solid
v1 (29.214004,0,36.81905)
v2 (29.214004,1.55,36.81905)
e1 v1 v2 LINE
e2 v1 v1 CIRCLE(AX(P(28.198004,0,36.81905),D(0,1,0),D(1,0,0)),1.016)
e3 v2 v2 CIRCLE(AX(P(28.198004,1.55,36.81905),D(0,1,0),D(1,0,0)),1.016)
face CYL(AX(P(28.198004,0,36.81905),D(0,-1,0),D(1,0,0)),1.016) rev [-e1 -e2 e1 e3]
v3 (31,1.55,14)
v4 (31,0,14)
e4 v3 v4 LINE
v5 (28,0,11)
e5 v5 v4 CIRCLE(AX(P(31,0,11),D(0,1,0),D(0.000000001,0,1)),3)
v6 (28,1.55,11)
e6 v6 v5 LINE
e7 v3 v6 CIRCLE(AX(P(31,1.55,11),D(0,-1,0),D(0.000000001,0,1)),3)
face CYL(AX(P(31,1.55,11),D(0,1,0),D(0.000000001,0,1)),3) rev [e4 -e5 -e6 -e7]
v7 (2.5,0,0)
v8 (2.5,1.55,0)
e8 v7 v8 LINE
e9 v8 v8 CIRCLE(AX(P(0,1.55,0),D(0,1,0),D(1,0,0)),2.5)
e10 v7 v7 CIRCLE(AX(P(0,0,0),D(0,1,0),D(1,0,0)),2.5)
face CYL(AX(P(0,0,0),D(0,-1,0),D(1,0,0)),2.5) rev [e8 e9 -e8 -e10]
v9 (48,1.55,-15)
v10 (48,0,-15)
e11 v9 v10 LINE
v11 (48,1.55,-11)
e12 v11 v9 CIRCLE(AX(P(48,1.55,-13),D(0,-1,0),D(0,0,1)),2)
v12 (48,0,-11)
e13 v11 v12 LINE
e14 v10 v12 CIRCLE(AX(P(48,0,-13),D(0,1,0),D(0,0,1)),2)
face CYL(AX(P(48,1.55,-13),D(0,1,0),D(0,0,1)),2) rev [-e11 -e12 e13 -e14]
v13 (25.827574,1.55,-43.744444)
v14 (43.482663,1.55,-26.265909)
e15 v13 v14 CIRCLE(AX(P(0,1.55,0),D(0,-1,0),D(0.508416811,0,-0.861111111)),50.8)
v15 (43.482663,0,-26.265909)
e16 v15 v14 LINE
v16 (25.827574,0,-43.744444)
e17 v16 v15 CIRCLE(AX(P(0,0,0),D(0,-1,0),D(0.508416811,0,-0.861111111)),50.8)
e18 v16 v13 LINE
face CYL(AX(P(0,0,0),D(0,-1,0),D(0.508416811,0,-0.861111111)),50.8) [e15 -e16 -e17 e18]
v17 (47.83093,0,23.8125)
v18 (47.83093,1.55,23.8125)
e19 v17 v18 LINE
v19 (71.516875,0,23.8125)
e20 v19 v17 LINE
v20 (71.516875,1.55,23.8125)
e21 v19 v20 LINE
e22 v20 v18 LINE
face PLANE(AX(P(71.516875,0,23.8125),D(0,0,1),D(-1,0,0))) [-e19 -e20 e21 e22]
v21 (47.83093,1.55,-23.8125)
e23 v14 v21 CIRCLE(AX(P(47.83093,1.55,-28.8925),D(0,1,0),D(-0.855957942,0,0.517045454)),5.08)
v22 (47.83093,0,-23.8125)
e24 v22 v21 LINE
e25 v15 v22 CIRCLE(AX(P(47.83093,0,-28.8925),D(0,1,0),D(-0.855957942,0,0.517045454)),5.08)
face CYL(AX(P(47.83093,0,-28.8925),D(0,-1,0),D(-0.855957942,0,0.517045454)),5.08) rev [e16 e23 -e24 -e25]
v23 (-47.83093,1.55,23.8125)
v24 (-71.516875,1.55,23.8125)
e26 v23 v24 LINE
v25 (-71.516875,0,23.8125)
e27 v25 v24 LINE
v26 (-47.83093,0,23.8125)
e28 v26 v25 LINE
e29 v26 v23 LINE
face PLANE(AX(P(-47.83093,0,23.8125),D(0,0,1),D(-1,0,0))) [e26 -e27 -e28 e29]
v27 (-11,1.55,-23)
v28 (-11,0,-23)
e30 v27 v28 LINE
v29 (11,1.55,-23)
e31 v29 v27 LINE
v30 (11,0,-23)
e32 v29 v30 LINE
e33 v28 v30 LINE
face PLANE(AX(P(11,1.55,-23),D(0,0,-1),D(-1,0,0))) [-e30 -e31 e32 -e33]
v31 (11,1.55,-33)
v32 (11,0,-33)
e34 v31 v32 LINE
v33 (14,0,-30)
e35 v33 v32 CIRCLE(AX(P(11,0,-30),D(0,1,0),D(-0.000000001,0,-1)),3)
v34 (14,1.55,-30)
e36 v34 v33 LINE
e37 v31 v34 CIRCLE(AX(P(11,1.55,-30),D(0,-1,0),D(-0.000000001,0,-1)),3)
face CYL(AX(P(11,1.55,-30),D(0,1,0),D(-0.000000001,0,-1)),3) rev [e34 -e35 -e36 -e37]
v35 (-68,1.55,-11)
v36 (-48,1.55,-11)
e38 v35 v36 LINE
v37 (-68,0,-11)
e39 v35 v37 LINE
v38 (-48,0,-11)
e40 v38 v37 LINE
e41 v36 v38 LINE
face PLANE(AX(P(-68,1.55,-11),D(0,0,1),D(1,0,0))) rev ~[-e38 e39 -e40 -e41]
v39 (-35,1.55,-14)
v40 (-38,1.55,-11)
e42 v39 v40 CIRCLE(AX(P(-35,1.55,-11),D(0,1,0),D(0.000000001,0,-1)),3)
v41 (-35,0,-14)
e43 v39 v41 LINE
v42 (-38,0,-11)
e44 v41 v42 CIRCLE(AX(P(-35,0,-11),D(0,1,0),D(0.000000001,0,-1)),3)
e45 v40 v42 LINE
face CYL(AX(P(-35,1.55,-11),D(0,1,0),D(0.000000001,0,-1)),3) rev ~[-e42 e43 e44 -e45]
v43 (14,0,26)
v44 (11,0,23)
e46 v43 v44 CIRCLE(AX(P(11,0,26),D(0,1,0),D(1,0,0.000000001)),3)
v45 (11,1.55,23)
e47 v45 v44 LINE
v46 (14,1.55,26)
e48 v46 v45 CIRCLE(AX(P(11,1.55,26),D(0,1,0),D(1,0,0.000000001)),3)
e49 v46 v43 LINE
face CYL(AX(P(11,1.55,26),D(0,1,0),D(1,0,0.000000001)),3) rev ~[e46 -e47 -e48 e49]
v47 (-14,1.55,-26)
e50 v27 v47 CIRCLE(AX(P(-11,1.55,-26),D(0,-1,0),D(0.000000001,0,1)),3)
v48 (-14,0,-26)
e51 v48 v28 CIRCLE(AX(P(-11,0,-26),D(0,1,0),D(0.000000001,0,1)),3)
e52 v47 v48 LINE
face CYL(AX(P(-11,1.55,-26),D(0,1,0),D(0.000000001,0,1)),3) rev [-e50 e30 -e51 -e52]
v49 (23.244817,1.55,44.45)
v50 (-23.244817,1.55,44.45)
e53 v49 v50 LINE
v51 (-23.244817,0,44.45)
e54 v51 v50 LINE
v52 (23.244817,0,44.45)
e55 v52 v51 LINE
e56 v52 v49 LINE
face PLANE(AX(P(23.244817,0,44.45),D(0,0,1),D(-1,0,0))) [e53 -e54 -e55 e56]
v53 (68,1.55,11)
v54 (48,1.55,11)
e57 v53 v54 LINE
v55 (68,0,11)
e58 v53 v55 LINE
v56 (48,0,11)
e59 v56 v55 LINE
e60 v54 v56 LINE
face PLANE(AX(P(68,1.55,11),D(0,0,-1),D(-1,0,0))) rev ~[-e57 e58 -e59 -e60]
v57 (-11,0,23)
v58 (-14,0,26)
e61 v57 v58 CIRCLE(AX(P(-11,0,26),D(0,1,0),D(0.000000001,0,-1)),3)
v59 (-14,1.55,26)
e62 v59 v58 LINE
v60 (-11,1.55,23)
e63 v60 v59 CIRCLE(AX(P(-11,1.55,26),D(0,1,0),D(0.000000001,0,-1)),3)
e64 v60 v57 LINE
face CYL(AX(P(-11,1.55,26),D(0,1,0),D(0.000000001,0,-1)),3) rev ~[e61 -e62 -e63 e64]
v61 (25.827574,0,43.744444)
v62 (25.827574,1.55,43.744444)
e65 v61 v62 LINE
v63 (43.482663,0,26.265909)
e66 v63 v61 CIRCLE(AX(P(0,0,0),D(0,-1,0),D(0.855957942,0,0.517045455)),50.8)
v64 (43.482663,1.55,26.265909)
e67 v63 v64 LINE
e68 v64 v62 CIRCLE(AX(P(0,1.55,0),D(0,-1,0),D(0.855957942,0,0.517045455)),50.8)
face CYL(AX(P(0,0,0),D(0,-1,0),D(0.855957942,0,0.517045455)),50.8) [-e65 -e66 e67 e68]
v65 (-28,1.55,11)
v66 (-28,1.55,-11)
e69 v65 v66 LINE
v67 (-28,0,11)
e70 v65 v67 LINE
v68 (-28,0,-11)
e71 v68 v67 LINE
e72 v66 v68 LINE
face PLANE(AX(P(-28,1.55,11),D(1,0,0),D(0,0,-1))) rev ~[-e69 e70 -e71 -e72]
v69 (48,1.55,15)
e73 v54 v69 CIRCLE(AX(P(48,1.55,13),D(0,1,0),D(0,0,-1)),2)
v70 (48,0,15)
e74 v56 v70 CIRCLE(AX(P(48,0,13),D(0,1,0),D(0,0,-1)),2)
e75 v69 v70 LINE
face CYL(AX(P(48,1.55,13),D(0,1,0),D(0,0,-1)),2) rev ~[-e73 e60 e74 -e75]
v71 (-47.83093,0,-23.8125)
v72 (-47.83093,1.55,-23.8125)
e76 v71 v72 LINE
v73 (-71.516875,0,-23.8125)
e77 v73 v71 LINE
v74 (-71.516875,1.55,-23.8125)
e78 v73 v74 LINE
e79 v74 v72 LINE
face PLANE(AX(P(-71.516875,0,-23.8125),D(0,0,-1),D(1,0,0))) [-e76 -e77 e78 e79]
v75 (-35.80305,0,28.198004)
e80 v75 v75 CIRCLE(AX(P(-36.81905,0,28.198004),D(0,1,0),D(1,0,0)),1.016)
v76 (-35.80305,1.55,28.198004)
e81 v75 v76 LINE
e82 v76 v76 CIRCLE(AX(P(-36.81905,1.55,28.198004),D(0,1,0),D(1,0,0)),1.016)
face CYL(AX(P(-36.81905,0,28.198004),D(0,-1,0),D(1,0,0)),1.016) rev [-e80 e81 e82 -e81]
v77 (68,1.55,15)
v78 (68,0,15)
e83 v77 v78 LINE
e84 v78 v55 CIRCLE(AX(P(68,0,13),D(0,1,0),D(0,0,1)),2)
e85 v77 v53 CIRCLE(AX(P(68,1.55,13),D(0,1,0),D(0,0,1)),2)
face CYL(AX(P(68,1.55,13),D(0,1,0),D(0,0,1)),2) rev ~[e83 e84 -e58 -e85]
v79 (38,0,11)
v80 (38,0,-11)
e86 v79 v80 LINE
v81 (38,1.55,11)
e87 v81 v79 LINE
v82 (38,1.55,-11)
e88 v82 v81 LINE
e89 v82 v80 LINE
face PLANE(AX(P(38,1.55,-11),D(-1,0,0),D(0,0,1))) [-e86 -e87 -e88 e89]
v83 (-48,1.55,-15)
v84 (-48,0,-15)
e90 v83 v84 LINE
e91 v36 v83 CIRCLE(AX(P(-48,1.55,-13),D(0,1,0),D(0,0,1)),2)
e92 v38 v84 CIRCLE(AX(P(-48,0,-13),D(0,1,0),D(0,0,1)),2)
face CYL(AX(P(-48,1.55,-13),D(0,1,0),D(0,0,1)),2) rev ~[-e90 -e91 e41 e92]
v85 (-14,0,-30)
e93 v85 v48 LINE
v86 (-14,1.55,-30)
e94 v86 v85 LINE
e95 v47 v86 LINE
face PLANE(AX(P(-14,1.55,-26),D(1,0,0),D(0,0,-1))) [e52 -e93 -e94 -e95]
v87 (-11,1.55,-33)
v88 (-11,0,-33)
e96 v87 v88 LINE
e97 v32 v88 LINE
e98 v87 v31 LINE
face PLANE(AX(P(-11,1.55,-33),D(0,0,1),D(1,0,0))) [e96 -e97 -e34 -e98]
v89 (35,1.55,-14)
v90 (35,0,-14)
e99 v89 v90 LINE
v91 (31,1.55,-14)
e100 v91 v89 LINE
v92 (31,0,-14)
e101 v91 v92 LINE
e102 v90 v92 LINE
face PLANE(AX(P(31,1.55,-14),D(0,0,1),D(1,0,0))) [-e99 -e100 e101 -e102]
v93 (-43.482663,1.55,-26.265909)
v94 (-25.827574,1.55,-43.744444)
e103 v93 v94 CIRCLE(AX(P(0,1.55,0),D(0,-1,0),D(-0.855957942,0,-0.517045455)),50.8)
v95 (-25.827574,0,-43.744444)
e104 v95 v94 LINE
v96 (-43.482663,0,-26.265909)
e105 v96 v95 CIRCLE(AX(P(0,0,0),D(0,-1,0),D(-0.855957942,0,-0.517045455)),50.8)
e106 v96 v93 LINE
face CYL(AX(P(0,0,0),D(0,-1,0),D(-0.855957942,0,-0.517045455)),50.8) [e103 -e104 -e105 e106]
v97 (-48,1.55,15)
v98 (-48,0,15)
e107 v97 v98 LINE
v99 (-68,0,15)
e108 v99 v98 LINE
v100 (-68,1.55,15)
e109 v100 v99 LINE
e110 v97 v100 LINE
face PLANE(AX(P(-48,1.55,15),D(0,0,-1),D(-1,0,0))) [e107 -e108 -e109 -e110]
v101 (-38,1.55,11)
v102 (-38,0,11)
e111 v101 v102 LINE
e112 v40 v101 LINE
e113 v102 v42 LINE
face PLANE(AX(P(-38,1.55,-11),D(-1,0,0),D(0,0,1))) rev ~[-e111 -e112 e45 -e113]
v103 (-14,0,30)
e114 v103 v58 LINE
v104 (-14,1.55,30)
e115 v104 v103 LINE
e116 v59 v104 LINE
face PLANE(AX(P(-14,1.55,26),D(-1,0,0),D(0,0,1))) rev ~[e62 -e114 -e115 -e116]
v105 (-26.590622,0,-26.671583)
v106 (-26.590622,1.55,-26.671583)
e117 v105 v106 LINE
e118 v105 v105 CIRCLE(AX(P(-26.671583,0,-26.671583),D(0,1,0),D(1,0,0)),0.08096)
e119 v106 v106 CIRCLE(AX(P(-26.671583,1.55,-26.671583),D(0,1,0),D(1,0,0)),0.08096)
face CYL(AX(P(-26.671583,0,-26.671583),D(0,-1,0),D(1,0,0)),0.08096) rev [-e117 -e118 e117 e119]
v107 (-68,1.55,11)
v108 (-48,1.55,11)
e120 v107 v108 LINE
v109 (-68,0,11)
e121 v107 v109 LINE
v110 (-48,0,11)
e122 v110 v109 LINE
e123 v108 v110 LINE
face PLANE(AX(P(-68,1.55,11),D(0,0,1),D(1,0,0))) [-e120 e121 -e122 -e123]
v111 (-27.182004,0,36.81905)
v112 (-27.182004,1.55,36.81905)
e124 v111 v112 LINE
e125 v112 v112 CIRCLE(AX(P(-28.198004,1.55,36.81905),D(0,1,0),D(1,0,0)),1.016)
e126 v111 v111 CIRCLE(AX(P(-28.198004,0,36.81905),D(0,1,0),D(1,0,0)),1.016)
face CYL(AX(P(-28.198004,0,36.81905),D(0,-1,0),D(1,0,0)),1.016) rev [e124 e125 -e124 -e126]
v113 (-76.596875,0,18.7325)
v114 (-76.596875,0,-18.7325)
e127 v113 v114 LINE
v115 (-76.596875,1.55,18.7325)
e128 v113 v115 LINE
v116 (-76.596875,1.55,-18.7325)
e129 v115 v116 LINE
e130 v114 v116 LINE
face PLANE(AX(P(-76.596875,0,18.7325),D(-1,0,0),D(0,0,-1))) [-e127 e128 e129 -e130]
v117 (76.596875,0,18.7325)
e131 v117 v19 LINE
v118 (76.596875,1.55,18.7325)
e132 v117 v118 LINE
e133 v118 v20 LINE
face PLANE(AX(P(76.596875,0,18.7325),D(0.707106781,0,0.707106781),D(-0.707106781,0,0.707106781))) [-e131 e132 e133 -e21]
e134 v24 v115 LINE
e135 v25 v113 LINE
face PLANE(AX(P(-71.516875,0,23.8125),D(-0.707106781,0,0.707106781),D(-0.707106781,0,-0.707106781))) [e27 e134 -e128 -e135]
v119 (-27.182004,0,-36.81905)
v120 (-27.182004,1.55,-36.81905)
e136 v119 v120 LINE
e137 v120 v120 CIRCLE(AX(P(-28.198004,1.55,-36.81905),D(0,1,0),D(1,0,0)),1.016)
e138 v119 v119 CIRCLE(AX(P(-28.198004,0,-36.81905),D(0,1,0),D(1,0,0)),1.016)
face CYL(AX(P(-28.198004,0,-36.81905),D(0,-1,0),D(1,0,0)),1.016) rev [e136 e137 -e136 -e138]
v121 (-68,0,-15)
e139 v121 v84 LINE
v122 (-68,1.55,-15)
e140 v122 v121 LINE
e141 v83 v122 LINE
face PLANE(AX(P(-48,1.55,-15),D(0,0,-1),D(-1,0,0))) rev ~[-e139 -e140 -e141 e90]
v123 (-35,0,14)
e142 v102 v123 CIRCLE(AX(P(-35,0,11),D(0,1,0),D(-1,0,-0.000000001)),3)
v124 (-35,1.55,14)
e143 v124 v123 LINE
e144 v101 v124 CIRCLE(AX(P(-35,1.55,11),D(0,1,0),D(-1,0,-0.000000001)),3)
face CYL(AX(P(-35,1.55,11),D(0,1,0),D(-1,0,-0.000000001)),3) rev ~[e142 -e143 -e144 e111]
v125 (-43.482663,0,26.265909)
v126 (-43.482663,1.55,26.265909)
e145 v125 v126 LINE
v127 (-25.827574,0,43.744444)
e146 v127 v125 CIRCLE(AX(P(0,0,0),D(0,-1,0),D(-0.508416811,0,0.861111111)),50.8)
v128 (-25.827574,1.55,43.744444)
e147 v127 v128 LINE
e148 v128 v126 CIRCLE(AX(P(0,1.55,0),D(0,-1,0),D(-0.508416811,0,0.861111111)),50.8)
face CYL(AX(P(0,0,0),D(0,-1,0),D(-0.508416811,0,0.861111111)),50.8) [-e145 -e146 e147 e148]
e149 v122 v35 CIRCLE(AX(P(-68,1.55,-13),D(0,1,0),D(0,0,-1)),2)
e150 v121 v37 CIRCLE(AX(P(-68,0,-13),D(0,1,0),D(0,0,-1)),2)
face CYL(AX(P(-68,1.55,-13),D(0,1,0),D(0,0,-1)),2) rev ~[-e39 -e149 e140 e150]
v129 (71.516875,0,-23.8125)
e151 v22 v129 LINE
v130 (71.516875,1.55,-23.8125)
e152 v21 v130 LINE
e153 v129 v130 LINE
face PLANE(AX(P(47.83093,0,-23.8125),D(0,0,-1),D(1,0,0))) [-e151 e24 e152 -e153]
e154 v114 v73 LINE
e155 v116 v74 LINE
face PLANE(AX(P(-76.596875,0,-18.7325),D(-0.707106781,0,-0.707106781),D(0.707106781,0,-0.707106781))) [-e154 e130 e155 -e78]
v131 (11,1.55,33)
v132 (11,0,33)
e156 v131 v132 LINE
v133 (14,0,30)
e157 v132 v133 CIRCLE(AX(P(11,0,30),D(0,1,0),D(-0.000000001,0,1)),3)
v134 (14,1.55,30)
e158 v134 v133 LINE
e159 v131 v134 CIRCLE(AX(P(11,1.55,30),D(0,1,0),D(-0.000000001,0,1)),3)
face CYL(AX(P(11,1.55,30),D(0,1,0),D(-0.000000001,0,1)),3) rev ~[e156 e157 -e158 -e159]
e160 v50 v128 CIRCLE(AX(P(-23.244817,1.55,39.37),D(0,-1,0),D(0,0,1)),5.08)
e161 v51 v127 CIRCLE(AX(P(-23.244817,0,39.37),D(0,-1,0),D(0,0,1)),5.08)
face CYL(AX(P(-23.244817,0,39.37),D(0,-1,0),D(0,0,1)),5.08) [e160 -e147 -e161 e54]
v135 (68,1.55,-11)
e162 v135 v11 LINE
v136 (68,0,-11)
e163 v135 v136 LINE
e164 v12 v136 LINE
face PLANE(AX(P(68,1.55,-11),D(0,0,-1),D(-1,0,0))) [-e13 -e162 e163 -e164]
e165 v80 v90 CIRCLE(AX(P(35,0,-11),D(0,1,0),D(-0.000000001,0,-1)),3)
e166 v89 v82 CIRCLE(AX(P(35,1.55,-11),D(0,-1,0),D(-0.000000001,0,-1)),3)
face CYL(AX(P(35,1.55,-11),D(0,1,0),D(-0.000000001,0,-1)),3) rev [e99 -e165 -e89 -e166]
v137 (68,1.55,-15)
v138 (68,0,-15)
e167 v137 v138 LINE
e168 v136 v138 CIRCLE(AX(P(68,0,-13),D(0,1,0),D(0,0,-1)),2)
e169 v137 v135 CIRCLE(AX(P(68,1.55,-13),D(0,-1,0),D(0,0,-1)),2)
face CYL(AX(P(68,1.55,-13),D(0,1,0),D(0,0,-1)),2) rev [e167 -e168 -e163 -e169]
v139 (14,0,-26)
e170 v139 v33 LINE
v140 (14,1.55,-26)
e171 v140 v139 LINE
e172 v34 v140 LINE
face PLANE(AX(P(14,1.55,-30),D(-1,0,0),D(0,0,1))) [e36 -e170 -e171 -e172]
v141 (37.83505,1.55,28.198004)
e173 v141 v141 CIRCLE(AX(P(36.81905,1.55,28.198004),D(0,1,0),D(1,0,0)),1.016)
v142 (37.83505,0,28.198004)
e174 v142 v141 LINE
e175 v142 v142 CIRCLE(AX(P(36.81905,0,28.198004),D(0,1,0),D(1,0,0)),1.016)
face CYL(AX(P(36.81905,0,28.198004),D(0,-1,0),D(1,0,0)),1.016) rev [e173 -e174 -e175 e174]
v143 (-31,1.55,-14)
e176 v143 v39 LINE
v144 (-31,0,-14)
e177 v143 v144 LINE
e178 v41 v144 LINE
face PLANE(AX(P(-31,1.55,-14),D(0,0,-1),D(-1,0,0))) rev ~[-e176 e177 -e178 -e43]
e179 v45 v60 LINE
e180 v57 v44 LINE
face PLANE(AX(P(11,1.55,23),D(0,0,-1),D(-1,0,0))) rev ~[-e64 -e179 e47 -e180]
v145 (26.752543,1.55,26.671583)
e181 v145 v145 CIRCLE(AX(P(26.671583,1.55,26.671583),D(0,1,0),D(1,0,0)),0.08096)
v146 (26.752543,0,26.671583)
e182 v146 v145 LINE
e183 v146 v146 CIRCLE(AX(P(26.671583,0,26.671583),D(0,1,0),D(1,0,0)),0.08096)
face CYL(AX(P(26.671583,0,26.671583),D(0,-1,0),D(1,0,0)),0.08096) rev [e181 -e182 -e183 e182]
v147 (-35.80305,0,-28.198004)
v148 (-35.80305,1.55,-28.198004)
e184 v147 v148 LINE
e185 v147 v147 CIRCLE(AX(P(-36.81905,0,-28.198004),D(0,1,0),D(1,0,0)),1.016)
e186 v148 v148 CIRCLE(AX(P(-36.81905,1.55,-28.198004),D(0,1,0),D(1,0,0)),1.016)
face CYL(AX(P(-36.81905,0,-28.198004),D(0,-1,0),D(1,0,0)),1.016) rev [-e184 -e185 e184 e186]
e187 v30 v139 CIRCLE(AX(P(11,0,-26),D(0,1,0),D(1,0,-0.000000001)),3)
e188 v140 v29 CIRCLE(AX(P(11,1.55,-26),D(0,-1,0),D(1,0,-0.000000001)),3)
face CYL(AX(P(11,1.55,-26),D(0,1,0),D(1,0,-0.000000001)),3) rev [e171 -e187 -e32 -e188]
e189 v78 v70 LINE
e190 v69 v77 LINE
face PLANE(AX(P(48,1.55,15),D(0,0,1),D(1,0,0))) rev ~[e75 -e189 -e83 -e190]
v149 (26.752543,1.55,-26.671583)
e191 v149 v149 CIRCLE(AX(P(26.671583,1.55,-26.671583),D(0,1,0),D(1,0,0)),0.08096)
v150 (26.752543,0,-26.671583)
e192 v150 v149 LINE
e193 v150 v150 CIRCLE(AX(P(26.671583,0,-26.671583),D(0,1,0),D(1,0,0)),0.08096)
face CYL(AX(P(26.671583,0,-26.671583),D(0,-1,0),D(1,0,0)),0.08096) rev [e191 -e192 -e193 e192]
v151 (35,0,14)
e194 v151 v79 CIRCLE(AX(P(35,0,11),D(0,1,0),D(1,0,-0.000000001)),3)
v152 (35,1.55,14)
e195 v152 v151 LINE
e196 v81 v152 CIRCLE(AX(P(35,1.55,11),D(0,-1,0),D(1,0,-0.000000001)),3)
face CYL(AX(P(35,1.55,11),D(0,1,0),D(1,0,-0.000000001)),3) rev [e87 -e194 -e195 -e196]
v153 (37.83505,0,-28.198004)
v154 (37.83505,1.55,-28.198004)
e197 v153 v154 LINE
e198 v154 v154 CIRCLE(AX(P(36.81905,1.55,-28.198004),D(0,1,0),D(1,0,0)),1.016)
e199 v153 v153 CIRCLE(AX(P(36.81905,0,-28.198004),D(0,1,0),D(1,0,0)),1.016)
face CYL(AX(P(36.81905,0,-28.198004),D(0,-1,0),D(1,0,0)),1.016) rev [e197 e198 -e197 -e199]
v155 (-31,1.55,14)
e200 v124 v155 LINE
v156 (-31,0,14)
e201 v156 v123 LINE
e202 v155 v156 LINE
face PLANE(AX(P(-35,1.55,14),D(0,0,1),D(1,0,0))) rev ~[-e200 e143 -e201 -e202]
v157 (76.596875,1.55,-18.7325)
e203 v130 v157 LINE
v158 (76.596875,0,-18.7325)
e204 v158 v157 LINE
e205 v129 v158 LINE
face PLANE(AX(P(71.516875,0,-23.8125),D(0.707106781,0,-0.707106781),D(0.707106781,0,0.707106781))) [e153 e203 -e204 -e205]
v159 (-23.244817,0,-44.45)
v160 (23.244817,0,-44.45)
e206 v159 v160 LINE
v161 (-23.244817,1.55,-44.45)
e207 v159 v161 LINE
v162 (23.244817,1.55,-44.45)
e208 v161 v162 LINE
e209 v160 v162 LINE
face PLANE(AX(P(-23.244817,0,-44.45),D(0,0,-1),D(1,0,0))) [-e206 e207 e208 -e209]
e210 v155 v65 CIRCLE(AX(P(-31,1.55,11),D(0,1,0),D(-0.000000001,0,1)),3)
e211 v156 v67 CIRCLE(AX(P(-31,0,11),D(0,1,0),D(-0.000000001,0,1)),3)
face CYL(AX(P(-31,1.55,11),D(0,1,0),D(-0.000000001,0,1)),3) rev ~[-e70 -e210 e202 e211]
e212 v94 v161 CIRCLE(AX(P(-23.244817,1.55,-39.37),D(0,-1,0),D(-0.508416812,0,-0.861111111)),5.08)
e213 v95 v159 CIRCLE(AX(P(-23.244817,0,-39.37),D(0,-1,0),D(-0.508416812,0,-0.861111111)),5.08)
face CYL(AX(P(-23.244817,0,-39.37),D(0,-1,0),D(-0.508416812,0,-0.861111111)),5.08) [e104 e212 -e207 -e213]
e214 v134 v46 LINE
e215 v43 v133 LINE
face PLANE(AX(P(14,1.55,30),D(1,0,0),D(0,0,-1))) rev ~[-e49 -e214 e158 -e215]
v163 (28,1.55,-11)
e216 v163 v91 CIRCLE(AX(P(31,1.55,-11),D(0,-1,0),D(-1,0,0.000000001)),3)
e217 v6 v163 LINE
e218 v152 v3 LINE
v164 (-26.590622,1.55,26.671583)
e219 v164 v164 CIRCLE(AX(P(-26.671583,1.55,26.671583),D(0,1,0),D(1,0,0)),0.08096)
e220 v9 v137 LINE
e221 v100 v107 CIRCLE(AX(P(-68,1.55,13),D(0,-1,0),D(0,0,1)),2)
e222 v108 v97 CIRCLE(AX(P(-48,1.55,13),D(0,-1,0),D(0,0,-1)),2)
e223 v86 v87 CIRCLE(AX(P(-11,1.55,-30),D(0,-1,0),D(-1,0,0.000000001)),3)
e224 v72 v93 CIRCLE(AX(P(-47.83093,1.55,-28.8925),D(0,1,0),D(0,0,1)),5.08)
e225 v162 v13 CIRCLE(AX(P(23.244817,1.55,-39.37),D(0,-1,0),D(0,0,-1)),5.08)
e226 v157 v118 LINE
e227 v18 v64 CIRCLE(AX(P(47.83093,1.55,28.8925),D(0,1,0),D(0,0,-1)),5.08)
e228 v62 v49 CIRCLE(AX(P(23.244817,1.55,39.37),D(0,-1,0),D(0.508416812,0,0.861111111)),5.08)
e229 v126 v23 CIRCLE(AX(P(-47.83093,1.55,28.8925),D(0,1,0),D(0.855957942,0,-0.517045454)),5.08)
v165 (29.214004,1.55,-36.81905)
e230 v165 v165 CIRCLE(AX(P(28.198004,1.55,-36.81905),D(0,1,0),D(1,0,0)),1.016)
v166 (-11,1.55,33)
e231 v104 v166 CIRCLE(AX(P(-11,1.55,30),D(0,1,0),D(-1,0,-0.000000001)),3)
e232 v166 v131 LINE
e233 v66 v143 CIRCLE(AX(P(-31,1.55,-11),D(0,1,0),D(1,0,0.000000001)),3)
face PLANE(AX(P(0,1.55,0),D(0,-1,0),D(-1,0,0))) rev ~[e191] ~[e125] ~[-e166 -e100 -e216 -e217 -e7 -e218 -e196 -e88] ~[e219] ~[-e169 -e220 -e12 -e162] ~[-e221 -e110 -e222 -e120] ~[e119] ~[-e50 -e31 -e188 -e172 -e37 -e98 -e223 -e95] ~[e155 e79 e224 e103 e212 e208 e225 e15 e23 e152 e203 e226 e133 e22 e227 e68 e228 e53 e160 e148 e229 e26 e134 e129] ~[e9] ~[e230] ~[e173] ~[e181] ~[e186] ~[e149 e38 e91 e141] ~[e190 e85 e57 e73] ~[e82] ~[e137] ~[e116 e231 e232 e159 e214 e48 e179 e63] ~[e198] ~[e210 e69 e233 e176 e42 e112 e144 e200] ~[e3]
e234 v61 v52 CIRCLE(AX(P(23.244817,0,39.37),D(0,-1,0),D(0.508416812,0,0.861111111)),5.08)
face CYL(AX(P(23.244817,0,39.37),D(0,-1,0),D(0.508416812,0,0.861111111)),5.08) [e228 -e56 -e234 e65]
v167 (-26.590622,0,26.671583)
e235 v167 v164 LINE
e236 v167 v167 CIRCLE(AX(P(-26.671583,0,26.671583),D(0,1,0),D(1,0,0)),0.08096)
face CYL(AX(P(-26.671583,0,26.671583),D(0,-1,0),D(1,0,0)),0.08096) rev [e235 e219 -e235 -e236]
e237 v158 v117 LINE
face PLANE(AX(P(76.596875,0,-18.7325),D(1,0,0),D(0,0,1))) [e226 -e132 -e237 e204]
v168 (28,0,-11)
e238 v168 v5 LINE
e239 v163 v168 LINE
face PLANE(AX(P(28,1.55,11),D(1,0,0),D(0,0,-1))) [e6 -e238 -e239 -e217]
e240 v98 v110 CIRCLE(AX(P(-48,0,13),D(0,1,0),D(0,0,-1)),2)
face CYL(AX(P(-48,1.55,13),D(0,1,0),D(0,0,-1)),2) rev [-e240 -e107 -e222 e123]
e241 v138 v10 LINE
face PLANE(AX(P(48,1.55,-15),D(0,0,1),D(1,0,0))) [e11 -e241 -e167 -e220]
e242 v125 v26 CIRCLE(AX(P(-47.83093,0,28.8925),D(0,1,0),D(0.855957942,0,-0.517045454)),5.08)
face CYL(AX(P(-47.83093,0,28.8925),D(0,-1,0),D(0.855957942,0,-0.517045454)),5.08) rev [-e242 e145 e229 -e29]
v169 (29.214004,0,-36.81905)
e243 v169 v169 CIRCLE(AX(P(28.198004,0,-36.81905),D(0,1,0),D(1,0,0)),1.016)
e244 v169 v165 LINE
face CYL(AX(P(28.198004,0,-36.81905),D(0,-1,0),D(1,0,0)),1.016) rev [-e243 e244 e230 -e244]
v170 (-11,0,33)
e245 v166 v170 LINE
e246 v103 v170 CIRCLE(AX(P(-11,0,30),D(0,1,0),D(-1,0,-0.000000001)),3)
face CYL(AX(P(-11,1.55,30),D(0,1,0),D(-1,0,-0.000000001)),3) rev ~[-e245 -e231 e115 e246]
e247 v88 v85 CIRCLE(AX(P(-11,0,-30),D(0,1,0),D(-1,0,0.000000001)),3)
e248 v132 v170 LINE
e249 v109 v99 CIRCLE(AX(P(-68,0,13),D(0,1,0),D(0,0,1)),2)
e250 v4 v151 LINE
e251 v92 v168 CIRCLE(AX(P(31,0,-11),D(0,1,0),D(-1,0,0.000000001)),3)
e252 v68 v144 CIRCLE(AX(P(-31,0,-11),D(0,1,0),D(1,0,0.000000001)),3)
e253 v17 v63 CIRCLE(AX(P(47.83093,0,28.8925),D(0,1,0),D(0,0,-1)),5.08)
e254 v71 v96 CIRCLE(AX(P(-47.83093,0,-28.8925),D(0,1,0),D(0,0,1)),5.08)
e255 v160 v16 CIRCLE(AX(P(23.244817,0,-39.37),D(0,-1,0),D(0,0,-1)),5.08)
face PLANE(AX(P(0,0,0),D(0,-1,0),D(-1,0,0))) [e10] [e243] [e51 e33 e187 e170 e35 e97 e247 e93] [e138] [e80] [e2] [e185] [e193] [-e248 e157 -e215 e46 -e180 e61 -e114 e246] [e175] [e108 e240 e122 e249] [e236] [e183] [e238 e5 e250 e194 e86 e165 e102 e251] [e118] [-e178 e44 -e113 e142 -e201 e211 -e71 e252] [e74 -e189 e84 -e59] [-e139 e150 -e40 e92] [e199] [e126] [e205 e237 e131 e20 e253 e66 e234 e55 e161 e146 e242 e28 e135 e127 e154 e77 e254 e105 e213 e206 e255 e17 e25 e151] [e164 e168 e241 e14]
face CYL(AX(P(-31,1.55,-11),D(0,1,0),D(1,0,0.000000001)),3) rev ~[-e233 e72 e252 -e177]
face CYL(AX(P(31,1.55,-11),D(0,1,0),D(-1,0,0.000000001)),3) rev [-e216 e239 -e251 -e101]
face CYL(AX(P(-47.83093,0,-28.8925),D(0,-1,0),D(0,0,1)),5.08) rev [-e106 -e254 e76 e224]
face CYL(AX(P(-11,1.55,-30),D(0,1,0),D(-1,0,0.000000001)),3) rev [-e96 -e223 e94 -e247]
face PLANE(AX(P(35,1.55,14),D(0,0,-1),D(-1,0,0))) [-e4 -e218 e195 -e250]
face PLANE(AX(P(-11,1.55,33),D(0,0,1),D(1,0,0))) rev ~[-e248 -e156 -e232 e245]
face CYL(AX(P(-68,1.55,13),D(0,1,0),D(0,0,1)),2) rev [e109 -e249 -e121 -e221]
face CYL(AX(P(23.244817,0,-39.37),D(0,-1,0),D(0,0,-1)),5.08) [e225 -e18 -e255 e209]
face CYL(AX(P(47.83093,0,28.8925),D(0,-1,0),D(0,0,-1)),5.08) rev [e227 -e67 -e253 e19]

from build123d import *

# Parameters (mm, degrees)
SKETCH1_R           = 2.5
SKETCH1_R_2         = 1.016
SKETCH1_R_3         = 0.080960088
BOSS_EXTRUDE1_DEPTH = 1.55
CUT_EXTRUDE1_DEPTH  = 2.55
CUT_EXTRUDE2_DEPTH  = 2.55


with BuildPart() as part:
    # Sketch1 → Boss-Extrude1 (new body)
    with BuildSketch(Plane(origin=(0, 0, 0), x_dir=(1, 0, 0), z_dir=(0, 1, 0))):
        with BuildLine():
            Line((-23.244816627, 44.45), (23.244816627, 44.45))
            ThreePointArc((23.244816627, 44.45), (24.583514169, 44.270437622), (25.827574029, 43.744444444))
            ThreePointArc((25.827574029, 43.744444444), (35.740062311, 36.101079569), (43.482663438, 26.265909091))
            ThreePointArc((43.482663438, 26.265909091), (45.334600658, 24.468164919), (47.830929781, 23.8125))
            Line((47.830929781, 23.8125), (71.516875, 23.8125))
            Line((71.516875, 23.8125), (76.596875, 18.7325))
            Line((76.596875, 18.7325), (76.596875, -18.7325))
            Line((76.596875, -18.7325), (71.516875, -23.8125))
            Line((71.516875, -23.8125), (47.830929781, -23.8125))
            ThreePointArc((47.830929781, -23.8125), (45.334600658, -24.468164919), (43.482663438, -26.265909091))
            ThreePointArc((43.482663438, -26.265909091), (35.740062311, -36.101079569), (25.827574029, -43.744444444))
            ThreePointArc((25.827574029, -43.744444444), (24.583514169, -44.270437622), (23.244816627, -44.45))
            Line((23.244816627, -44.45), (-23.244816627, -44.45))
            ThreePointArc((-23.244816627, -44.45), (-24.583514169, -44.270437622), (-25.827574029, -43.744444444))
            ThreePointArc((-25.827574029, -43.744444444), (-35.740062311, -36.101079569), (-43.482663438, -26.265909091))
            ThreePointArc((-43.482663438, -26.265909091), (-45.334600658, -24.468164919), (-47.830929781, -23.8125))
            Line((-47.830929781, -23.8125), (-71.516875, -23.8125))
            Line((-71.516875, -23.8125), (-76.596875, -18.7325))
            Line((-76.596875, -18.7325), (-76.596875, 18.7325))
            Line((-76.596875, 18.7325), (-71.516875, 23.8125))
            Line((-71.516875, 23.8125), (-47.830929781, 23.8125))
            ThreePointArc((-47.830929781, 23.8125), (-45.334600658, 24.468164919), (-43.482663438, 26.265909091))
            ThreePointArc((-43.482663438, 26.265909091), (-35.740062311, 36.101079569), (-25.827574029, 43.744444444))
            ThreePointArc((-25.827574029, 43.744444444), (-24.583514169, 44.270437622), (-23.244816627, 44.45))
        make_face()
        Circle(SKETCH1_R, mode=Mode.SUBTRACT)
        with Locations((36.819050096, 28.19800422)):
            Circle(SKETCH1_R_2, mode=Mode.SUBTRACT)
        with Locations((28.19800422, 36.819050096)):
            Circle(SKETCH1_R_2, mode=Mode.SUBTRACT)
        with Locations((26.671582547, 26.671582547)):
            Circle(SKETCH1_R_3, mode=Mode.SUBTRACT)
        with Locations((26.671582547, -26.671582547)):
            Circle(SKETCH1_R_3, mode=Mode.SUBTRACT)
        with Locations((36.819050096, -28.19800422)):
            Circle(SKETCH1_R_2, mode=Mode.SUBTRACT)
        with Locations((28.19800422, -36.819050096)):
            Circle(SKETCH1_R_2, mode=Mode.SUBTRACT)
        with Locations((-26.671582547, -26.671582547)):
            Circle(SKETCH1_R_3, mode=Mode.SUBTRACT)
        with Locations((-28.19800422, -36.819050096)):
            Circle(SKETCH1_R_2, mode=Mode.SUBTRACT)
        with Locations((-36.819050096, -28.19800422)):
            Circle(SKETCH1_R_2, mode=Mode.SUBTRACT)
        with Locations((-26.671582547, 26.671582547)):
            Circle(SKETCH1_R_3, mode=Mode.SUBTRACT)
        with Locations((-36.819050096, 28.19800422)):
            Circle(SKETCH1_R_2, mode=Mode.SUBTRACT)
        with Locations((-28.19800422, 36.819050096)):
            Circle(SKETCH1_R_2, mode=Mode.SUBTRACT)
    extrude(amount=BOSS_EXTRUDE1_DEPTH)

    # Sketch2 → Cut-Extrude1 (cut, through all)
    with BuildSketch(Plane(origin=(0, 1.55, 0), x_dir=(1, 0, 0), z_dir=(0, 1, 0))):
        with BuildLine():
            Line((48, 15), (68, 15))
            ThreePointArc((68, 15), (70, 13), (68, 11))
            Line((68, 11), (48, 11))
            ThreePointArc((48, 11), (46, 13), (48, 15))
        make_face()
        with BuildLine():
            Line((48, -15), (68, -15))
            ThreePointArc((68, -15), (70, -13), (68, -11))
            Line((68, -11), (48, -11))
            ThreePointArc((48, -11), (46, -13), (48, -15))
        make_face()
        with BuildLine():
            Line((-48, 15), (-68, 15))
            ThreePointArc((-68, 15), (-70, 13), (-68, 11))
            Line((-68, 11), (-48, 11))
            ThreePointArc((-48, 11), (-46, 13), (-48, 15))
        make_face()
        with BuildLine():
            Line((-48, -15), (-68, -15))
            ThreePointArc((-68, -15), (-70, -13), (-68, -11))
            Line((-68, -11), (-48, -11))
            ThreePointArc((-48, -11), (-46, -13), (-48, -15))
        make_face()
    extrude(amount=-CUT_EXTRUDE1_DEPTH, mode=Mode.SUBTRACT)

    # Sketch3 → Cut-Extrude2 (cut, through all)
    with BuildSketch(Plane(origin=(0, 1.55, 0), x_dir=(1, 0, 0), z_dir=(0, 1, 0))):
        with BuildLine():
            Line((-11, 33), (11, 33))
            ThreePointArc((11, 33), (13.121320344, 32.121320344), (14, 30))
            Line((14, 30), (14, 26))
            ThreePointArc((14, 26), (13.121320344, 23.878679656), (11, 23))
            Line((11, 23), (-11, 23))
            ThreePointArc((-11, 23), (-13.121320344, 23.878679656), (-14, 26))
            Line((-14, 26), (-14, 30))
            ThreePointArc((-14, 30), (-13.121320344, 32.121320344), (-11, 33))
        make_face()
        with BuildLine():
            Line((14, -30), (14, -26))
            ThreePointArc((14, -26), (13.121320344, -23.878679656), (11, -23))
            Line((11, -23), (-11, -23))
            ThreePointArc((-11, -23), (-13.121320344, -23.878679656), (-14, -26))
            Line((-14, -26), (-14, -30))
            ThreePointArc((-14, -30), (-13.121320344, -32.121320344), (-11, -33))
            Line((-11, -33), (11, -33))
            ThreePointArc((11, -33), (13.121320344, -32.121320344), (14, -30))
        make_face()
        with BuildLine():
            Line((31, 14), (35, 14))
            ThreePointArc((35, 14), (37.121320344, 13.121320344), (38, 11))
            Line((38, 11), (38, -11))
            ThreePointArc((38, -11), (37.121320344, -13.121320344), (35, -14))
            Line((35, -14), (31, -14))
            ThreePointArc((31, -14), (28.878679656, -13.121320344), (28, -11))
            Line((28, -11), (28, 11))
            ThreePointArc((28, 11), (28.878679656, 13.121320344), (31, 14))
        make_face()
        with BuildLine():
            Line((-38, 11), (-38, -11))
            ThreePointArc((-38, -11), (-37.121320344, -13.121320344), (-35, -14))
            Line((-35, -14), (-31, -14))
            ThreePointArc((-31, -14), (-28.878679656, -13.121320344), (-28, -11))
            Line((-28, -11), (-28, 11))
            ThreePointArc((-28, 11), (-28.878679656, 13.121320344), (-31, 14))
            Line((-31, 14), (-35, 14))
            ThreePointArc((-35, 14), (-37.121320344, 13.121320344), (-38, 11))
        make_face()
    extrude(amount=-CUT_EXTRUDE2_DEPTH, mode=Mode.SUBTRACT)


solid = part.part
